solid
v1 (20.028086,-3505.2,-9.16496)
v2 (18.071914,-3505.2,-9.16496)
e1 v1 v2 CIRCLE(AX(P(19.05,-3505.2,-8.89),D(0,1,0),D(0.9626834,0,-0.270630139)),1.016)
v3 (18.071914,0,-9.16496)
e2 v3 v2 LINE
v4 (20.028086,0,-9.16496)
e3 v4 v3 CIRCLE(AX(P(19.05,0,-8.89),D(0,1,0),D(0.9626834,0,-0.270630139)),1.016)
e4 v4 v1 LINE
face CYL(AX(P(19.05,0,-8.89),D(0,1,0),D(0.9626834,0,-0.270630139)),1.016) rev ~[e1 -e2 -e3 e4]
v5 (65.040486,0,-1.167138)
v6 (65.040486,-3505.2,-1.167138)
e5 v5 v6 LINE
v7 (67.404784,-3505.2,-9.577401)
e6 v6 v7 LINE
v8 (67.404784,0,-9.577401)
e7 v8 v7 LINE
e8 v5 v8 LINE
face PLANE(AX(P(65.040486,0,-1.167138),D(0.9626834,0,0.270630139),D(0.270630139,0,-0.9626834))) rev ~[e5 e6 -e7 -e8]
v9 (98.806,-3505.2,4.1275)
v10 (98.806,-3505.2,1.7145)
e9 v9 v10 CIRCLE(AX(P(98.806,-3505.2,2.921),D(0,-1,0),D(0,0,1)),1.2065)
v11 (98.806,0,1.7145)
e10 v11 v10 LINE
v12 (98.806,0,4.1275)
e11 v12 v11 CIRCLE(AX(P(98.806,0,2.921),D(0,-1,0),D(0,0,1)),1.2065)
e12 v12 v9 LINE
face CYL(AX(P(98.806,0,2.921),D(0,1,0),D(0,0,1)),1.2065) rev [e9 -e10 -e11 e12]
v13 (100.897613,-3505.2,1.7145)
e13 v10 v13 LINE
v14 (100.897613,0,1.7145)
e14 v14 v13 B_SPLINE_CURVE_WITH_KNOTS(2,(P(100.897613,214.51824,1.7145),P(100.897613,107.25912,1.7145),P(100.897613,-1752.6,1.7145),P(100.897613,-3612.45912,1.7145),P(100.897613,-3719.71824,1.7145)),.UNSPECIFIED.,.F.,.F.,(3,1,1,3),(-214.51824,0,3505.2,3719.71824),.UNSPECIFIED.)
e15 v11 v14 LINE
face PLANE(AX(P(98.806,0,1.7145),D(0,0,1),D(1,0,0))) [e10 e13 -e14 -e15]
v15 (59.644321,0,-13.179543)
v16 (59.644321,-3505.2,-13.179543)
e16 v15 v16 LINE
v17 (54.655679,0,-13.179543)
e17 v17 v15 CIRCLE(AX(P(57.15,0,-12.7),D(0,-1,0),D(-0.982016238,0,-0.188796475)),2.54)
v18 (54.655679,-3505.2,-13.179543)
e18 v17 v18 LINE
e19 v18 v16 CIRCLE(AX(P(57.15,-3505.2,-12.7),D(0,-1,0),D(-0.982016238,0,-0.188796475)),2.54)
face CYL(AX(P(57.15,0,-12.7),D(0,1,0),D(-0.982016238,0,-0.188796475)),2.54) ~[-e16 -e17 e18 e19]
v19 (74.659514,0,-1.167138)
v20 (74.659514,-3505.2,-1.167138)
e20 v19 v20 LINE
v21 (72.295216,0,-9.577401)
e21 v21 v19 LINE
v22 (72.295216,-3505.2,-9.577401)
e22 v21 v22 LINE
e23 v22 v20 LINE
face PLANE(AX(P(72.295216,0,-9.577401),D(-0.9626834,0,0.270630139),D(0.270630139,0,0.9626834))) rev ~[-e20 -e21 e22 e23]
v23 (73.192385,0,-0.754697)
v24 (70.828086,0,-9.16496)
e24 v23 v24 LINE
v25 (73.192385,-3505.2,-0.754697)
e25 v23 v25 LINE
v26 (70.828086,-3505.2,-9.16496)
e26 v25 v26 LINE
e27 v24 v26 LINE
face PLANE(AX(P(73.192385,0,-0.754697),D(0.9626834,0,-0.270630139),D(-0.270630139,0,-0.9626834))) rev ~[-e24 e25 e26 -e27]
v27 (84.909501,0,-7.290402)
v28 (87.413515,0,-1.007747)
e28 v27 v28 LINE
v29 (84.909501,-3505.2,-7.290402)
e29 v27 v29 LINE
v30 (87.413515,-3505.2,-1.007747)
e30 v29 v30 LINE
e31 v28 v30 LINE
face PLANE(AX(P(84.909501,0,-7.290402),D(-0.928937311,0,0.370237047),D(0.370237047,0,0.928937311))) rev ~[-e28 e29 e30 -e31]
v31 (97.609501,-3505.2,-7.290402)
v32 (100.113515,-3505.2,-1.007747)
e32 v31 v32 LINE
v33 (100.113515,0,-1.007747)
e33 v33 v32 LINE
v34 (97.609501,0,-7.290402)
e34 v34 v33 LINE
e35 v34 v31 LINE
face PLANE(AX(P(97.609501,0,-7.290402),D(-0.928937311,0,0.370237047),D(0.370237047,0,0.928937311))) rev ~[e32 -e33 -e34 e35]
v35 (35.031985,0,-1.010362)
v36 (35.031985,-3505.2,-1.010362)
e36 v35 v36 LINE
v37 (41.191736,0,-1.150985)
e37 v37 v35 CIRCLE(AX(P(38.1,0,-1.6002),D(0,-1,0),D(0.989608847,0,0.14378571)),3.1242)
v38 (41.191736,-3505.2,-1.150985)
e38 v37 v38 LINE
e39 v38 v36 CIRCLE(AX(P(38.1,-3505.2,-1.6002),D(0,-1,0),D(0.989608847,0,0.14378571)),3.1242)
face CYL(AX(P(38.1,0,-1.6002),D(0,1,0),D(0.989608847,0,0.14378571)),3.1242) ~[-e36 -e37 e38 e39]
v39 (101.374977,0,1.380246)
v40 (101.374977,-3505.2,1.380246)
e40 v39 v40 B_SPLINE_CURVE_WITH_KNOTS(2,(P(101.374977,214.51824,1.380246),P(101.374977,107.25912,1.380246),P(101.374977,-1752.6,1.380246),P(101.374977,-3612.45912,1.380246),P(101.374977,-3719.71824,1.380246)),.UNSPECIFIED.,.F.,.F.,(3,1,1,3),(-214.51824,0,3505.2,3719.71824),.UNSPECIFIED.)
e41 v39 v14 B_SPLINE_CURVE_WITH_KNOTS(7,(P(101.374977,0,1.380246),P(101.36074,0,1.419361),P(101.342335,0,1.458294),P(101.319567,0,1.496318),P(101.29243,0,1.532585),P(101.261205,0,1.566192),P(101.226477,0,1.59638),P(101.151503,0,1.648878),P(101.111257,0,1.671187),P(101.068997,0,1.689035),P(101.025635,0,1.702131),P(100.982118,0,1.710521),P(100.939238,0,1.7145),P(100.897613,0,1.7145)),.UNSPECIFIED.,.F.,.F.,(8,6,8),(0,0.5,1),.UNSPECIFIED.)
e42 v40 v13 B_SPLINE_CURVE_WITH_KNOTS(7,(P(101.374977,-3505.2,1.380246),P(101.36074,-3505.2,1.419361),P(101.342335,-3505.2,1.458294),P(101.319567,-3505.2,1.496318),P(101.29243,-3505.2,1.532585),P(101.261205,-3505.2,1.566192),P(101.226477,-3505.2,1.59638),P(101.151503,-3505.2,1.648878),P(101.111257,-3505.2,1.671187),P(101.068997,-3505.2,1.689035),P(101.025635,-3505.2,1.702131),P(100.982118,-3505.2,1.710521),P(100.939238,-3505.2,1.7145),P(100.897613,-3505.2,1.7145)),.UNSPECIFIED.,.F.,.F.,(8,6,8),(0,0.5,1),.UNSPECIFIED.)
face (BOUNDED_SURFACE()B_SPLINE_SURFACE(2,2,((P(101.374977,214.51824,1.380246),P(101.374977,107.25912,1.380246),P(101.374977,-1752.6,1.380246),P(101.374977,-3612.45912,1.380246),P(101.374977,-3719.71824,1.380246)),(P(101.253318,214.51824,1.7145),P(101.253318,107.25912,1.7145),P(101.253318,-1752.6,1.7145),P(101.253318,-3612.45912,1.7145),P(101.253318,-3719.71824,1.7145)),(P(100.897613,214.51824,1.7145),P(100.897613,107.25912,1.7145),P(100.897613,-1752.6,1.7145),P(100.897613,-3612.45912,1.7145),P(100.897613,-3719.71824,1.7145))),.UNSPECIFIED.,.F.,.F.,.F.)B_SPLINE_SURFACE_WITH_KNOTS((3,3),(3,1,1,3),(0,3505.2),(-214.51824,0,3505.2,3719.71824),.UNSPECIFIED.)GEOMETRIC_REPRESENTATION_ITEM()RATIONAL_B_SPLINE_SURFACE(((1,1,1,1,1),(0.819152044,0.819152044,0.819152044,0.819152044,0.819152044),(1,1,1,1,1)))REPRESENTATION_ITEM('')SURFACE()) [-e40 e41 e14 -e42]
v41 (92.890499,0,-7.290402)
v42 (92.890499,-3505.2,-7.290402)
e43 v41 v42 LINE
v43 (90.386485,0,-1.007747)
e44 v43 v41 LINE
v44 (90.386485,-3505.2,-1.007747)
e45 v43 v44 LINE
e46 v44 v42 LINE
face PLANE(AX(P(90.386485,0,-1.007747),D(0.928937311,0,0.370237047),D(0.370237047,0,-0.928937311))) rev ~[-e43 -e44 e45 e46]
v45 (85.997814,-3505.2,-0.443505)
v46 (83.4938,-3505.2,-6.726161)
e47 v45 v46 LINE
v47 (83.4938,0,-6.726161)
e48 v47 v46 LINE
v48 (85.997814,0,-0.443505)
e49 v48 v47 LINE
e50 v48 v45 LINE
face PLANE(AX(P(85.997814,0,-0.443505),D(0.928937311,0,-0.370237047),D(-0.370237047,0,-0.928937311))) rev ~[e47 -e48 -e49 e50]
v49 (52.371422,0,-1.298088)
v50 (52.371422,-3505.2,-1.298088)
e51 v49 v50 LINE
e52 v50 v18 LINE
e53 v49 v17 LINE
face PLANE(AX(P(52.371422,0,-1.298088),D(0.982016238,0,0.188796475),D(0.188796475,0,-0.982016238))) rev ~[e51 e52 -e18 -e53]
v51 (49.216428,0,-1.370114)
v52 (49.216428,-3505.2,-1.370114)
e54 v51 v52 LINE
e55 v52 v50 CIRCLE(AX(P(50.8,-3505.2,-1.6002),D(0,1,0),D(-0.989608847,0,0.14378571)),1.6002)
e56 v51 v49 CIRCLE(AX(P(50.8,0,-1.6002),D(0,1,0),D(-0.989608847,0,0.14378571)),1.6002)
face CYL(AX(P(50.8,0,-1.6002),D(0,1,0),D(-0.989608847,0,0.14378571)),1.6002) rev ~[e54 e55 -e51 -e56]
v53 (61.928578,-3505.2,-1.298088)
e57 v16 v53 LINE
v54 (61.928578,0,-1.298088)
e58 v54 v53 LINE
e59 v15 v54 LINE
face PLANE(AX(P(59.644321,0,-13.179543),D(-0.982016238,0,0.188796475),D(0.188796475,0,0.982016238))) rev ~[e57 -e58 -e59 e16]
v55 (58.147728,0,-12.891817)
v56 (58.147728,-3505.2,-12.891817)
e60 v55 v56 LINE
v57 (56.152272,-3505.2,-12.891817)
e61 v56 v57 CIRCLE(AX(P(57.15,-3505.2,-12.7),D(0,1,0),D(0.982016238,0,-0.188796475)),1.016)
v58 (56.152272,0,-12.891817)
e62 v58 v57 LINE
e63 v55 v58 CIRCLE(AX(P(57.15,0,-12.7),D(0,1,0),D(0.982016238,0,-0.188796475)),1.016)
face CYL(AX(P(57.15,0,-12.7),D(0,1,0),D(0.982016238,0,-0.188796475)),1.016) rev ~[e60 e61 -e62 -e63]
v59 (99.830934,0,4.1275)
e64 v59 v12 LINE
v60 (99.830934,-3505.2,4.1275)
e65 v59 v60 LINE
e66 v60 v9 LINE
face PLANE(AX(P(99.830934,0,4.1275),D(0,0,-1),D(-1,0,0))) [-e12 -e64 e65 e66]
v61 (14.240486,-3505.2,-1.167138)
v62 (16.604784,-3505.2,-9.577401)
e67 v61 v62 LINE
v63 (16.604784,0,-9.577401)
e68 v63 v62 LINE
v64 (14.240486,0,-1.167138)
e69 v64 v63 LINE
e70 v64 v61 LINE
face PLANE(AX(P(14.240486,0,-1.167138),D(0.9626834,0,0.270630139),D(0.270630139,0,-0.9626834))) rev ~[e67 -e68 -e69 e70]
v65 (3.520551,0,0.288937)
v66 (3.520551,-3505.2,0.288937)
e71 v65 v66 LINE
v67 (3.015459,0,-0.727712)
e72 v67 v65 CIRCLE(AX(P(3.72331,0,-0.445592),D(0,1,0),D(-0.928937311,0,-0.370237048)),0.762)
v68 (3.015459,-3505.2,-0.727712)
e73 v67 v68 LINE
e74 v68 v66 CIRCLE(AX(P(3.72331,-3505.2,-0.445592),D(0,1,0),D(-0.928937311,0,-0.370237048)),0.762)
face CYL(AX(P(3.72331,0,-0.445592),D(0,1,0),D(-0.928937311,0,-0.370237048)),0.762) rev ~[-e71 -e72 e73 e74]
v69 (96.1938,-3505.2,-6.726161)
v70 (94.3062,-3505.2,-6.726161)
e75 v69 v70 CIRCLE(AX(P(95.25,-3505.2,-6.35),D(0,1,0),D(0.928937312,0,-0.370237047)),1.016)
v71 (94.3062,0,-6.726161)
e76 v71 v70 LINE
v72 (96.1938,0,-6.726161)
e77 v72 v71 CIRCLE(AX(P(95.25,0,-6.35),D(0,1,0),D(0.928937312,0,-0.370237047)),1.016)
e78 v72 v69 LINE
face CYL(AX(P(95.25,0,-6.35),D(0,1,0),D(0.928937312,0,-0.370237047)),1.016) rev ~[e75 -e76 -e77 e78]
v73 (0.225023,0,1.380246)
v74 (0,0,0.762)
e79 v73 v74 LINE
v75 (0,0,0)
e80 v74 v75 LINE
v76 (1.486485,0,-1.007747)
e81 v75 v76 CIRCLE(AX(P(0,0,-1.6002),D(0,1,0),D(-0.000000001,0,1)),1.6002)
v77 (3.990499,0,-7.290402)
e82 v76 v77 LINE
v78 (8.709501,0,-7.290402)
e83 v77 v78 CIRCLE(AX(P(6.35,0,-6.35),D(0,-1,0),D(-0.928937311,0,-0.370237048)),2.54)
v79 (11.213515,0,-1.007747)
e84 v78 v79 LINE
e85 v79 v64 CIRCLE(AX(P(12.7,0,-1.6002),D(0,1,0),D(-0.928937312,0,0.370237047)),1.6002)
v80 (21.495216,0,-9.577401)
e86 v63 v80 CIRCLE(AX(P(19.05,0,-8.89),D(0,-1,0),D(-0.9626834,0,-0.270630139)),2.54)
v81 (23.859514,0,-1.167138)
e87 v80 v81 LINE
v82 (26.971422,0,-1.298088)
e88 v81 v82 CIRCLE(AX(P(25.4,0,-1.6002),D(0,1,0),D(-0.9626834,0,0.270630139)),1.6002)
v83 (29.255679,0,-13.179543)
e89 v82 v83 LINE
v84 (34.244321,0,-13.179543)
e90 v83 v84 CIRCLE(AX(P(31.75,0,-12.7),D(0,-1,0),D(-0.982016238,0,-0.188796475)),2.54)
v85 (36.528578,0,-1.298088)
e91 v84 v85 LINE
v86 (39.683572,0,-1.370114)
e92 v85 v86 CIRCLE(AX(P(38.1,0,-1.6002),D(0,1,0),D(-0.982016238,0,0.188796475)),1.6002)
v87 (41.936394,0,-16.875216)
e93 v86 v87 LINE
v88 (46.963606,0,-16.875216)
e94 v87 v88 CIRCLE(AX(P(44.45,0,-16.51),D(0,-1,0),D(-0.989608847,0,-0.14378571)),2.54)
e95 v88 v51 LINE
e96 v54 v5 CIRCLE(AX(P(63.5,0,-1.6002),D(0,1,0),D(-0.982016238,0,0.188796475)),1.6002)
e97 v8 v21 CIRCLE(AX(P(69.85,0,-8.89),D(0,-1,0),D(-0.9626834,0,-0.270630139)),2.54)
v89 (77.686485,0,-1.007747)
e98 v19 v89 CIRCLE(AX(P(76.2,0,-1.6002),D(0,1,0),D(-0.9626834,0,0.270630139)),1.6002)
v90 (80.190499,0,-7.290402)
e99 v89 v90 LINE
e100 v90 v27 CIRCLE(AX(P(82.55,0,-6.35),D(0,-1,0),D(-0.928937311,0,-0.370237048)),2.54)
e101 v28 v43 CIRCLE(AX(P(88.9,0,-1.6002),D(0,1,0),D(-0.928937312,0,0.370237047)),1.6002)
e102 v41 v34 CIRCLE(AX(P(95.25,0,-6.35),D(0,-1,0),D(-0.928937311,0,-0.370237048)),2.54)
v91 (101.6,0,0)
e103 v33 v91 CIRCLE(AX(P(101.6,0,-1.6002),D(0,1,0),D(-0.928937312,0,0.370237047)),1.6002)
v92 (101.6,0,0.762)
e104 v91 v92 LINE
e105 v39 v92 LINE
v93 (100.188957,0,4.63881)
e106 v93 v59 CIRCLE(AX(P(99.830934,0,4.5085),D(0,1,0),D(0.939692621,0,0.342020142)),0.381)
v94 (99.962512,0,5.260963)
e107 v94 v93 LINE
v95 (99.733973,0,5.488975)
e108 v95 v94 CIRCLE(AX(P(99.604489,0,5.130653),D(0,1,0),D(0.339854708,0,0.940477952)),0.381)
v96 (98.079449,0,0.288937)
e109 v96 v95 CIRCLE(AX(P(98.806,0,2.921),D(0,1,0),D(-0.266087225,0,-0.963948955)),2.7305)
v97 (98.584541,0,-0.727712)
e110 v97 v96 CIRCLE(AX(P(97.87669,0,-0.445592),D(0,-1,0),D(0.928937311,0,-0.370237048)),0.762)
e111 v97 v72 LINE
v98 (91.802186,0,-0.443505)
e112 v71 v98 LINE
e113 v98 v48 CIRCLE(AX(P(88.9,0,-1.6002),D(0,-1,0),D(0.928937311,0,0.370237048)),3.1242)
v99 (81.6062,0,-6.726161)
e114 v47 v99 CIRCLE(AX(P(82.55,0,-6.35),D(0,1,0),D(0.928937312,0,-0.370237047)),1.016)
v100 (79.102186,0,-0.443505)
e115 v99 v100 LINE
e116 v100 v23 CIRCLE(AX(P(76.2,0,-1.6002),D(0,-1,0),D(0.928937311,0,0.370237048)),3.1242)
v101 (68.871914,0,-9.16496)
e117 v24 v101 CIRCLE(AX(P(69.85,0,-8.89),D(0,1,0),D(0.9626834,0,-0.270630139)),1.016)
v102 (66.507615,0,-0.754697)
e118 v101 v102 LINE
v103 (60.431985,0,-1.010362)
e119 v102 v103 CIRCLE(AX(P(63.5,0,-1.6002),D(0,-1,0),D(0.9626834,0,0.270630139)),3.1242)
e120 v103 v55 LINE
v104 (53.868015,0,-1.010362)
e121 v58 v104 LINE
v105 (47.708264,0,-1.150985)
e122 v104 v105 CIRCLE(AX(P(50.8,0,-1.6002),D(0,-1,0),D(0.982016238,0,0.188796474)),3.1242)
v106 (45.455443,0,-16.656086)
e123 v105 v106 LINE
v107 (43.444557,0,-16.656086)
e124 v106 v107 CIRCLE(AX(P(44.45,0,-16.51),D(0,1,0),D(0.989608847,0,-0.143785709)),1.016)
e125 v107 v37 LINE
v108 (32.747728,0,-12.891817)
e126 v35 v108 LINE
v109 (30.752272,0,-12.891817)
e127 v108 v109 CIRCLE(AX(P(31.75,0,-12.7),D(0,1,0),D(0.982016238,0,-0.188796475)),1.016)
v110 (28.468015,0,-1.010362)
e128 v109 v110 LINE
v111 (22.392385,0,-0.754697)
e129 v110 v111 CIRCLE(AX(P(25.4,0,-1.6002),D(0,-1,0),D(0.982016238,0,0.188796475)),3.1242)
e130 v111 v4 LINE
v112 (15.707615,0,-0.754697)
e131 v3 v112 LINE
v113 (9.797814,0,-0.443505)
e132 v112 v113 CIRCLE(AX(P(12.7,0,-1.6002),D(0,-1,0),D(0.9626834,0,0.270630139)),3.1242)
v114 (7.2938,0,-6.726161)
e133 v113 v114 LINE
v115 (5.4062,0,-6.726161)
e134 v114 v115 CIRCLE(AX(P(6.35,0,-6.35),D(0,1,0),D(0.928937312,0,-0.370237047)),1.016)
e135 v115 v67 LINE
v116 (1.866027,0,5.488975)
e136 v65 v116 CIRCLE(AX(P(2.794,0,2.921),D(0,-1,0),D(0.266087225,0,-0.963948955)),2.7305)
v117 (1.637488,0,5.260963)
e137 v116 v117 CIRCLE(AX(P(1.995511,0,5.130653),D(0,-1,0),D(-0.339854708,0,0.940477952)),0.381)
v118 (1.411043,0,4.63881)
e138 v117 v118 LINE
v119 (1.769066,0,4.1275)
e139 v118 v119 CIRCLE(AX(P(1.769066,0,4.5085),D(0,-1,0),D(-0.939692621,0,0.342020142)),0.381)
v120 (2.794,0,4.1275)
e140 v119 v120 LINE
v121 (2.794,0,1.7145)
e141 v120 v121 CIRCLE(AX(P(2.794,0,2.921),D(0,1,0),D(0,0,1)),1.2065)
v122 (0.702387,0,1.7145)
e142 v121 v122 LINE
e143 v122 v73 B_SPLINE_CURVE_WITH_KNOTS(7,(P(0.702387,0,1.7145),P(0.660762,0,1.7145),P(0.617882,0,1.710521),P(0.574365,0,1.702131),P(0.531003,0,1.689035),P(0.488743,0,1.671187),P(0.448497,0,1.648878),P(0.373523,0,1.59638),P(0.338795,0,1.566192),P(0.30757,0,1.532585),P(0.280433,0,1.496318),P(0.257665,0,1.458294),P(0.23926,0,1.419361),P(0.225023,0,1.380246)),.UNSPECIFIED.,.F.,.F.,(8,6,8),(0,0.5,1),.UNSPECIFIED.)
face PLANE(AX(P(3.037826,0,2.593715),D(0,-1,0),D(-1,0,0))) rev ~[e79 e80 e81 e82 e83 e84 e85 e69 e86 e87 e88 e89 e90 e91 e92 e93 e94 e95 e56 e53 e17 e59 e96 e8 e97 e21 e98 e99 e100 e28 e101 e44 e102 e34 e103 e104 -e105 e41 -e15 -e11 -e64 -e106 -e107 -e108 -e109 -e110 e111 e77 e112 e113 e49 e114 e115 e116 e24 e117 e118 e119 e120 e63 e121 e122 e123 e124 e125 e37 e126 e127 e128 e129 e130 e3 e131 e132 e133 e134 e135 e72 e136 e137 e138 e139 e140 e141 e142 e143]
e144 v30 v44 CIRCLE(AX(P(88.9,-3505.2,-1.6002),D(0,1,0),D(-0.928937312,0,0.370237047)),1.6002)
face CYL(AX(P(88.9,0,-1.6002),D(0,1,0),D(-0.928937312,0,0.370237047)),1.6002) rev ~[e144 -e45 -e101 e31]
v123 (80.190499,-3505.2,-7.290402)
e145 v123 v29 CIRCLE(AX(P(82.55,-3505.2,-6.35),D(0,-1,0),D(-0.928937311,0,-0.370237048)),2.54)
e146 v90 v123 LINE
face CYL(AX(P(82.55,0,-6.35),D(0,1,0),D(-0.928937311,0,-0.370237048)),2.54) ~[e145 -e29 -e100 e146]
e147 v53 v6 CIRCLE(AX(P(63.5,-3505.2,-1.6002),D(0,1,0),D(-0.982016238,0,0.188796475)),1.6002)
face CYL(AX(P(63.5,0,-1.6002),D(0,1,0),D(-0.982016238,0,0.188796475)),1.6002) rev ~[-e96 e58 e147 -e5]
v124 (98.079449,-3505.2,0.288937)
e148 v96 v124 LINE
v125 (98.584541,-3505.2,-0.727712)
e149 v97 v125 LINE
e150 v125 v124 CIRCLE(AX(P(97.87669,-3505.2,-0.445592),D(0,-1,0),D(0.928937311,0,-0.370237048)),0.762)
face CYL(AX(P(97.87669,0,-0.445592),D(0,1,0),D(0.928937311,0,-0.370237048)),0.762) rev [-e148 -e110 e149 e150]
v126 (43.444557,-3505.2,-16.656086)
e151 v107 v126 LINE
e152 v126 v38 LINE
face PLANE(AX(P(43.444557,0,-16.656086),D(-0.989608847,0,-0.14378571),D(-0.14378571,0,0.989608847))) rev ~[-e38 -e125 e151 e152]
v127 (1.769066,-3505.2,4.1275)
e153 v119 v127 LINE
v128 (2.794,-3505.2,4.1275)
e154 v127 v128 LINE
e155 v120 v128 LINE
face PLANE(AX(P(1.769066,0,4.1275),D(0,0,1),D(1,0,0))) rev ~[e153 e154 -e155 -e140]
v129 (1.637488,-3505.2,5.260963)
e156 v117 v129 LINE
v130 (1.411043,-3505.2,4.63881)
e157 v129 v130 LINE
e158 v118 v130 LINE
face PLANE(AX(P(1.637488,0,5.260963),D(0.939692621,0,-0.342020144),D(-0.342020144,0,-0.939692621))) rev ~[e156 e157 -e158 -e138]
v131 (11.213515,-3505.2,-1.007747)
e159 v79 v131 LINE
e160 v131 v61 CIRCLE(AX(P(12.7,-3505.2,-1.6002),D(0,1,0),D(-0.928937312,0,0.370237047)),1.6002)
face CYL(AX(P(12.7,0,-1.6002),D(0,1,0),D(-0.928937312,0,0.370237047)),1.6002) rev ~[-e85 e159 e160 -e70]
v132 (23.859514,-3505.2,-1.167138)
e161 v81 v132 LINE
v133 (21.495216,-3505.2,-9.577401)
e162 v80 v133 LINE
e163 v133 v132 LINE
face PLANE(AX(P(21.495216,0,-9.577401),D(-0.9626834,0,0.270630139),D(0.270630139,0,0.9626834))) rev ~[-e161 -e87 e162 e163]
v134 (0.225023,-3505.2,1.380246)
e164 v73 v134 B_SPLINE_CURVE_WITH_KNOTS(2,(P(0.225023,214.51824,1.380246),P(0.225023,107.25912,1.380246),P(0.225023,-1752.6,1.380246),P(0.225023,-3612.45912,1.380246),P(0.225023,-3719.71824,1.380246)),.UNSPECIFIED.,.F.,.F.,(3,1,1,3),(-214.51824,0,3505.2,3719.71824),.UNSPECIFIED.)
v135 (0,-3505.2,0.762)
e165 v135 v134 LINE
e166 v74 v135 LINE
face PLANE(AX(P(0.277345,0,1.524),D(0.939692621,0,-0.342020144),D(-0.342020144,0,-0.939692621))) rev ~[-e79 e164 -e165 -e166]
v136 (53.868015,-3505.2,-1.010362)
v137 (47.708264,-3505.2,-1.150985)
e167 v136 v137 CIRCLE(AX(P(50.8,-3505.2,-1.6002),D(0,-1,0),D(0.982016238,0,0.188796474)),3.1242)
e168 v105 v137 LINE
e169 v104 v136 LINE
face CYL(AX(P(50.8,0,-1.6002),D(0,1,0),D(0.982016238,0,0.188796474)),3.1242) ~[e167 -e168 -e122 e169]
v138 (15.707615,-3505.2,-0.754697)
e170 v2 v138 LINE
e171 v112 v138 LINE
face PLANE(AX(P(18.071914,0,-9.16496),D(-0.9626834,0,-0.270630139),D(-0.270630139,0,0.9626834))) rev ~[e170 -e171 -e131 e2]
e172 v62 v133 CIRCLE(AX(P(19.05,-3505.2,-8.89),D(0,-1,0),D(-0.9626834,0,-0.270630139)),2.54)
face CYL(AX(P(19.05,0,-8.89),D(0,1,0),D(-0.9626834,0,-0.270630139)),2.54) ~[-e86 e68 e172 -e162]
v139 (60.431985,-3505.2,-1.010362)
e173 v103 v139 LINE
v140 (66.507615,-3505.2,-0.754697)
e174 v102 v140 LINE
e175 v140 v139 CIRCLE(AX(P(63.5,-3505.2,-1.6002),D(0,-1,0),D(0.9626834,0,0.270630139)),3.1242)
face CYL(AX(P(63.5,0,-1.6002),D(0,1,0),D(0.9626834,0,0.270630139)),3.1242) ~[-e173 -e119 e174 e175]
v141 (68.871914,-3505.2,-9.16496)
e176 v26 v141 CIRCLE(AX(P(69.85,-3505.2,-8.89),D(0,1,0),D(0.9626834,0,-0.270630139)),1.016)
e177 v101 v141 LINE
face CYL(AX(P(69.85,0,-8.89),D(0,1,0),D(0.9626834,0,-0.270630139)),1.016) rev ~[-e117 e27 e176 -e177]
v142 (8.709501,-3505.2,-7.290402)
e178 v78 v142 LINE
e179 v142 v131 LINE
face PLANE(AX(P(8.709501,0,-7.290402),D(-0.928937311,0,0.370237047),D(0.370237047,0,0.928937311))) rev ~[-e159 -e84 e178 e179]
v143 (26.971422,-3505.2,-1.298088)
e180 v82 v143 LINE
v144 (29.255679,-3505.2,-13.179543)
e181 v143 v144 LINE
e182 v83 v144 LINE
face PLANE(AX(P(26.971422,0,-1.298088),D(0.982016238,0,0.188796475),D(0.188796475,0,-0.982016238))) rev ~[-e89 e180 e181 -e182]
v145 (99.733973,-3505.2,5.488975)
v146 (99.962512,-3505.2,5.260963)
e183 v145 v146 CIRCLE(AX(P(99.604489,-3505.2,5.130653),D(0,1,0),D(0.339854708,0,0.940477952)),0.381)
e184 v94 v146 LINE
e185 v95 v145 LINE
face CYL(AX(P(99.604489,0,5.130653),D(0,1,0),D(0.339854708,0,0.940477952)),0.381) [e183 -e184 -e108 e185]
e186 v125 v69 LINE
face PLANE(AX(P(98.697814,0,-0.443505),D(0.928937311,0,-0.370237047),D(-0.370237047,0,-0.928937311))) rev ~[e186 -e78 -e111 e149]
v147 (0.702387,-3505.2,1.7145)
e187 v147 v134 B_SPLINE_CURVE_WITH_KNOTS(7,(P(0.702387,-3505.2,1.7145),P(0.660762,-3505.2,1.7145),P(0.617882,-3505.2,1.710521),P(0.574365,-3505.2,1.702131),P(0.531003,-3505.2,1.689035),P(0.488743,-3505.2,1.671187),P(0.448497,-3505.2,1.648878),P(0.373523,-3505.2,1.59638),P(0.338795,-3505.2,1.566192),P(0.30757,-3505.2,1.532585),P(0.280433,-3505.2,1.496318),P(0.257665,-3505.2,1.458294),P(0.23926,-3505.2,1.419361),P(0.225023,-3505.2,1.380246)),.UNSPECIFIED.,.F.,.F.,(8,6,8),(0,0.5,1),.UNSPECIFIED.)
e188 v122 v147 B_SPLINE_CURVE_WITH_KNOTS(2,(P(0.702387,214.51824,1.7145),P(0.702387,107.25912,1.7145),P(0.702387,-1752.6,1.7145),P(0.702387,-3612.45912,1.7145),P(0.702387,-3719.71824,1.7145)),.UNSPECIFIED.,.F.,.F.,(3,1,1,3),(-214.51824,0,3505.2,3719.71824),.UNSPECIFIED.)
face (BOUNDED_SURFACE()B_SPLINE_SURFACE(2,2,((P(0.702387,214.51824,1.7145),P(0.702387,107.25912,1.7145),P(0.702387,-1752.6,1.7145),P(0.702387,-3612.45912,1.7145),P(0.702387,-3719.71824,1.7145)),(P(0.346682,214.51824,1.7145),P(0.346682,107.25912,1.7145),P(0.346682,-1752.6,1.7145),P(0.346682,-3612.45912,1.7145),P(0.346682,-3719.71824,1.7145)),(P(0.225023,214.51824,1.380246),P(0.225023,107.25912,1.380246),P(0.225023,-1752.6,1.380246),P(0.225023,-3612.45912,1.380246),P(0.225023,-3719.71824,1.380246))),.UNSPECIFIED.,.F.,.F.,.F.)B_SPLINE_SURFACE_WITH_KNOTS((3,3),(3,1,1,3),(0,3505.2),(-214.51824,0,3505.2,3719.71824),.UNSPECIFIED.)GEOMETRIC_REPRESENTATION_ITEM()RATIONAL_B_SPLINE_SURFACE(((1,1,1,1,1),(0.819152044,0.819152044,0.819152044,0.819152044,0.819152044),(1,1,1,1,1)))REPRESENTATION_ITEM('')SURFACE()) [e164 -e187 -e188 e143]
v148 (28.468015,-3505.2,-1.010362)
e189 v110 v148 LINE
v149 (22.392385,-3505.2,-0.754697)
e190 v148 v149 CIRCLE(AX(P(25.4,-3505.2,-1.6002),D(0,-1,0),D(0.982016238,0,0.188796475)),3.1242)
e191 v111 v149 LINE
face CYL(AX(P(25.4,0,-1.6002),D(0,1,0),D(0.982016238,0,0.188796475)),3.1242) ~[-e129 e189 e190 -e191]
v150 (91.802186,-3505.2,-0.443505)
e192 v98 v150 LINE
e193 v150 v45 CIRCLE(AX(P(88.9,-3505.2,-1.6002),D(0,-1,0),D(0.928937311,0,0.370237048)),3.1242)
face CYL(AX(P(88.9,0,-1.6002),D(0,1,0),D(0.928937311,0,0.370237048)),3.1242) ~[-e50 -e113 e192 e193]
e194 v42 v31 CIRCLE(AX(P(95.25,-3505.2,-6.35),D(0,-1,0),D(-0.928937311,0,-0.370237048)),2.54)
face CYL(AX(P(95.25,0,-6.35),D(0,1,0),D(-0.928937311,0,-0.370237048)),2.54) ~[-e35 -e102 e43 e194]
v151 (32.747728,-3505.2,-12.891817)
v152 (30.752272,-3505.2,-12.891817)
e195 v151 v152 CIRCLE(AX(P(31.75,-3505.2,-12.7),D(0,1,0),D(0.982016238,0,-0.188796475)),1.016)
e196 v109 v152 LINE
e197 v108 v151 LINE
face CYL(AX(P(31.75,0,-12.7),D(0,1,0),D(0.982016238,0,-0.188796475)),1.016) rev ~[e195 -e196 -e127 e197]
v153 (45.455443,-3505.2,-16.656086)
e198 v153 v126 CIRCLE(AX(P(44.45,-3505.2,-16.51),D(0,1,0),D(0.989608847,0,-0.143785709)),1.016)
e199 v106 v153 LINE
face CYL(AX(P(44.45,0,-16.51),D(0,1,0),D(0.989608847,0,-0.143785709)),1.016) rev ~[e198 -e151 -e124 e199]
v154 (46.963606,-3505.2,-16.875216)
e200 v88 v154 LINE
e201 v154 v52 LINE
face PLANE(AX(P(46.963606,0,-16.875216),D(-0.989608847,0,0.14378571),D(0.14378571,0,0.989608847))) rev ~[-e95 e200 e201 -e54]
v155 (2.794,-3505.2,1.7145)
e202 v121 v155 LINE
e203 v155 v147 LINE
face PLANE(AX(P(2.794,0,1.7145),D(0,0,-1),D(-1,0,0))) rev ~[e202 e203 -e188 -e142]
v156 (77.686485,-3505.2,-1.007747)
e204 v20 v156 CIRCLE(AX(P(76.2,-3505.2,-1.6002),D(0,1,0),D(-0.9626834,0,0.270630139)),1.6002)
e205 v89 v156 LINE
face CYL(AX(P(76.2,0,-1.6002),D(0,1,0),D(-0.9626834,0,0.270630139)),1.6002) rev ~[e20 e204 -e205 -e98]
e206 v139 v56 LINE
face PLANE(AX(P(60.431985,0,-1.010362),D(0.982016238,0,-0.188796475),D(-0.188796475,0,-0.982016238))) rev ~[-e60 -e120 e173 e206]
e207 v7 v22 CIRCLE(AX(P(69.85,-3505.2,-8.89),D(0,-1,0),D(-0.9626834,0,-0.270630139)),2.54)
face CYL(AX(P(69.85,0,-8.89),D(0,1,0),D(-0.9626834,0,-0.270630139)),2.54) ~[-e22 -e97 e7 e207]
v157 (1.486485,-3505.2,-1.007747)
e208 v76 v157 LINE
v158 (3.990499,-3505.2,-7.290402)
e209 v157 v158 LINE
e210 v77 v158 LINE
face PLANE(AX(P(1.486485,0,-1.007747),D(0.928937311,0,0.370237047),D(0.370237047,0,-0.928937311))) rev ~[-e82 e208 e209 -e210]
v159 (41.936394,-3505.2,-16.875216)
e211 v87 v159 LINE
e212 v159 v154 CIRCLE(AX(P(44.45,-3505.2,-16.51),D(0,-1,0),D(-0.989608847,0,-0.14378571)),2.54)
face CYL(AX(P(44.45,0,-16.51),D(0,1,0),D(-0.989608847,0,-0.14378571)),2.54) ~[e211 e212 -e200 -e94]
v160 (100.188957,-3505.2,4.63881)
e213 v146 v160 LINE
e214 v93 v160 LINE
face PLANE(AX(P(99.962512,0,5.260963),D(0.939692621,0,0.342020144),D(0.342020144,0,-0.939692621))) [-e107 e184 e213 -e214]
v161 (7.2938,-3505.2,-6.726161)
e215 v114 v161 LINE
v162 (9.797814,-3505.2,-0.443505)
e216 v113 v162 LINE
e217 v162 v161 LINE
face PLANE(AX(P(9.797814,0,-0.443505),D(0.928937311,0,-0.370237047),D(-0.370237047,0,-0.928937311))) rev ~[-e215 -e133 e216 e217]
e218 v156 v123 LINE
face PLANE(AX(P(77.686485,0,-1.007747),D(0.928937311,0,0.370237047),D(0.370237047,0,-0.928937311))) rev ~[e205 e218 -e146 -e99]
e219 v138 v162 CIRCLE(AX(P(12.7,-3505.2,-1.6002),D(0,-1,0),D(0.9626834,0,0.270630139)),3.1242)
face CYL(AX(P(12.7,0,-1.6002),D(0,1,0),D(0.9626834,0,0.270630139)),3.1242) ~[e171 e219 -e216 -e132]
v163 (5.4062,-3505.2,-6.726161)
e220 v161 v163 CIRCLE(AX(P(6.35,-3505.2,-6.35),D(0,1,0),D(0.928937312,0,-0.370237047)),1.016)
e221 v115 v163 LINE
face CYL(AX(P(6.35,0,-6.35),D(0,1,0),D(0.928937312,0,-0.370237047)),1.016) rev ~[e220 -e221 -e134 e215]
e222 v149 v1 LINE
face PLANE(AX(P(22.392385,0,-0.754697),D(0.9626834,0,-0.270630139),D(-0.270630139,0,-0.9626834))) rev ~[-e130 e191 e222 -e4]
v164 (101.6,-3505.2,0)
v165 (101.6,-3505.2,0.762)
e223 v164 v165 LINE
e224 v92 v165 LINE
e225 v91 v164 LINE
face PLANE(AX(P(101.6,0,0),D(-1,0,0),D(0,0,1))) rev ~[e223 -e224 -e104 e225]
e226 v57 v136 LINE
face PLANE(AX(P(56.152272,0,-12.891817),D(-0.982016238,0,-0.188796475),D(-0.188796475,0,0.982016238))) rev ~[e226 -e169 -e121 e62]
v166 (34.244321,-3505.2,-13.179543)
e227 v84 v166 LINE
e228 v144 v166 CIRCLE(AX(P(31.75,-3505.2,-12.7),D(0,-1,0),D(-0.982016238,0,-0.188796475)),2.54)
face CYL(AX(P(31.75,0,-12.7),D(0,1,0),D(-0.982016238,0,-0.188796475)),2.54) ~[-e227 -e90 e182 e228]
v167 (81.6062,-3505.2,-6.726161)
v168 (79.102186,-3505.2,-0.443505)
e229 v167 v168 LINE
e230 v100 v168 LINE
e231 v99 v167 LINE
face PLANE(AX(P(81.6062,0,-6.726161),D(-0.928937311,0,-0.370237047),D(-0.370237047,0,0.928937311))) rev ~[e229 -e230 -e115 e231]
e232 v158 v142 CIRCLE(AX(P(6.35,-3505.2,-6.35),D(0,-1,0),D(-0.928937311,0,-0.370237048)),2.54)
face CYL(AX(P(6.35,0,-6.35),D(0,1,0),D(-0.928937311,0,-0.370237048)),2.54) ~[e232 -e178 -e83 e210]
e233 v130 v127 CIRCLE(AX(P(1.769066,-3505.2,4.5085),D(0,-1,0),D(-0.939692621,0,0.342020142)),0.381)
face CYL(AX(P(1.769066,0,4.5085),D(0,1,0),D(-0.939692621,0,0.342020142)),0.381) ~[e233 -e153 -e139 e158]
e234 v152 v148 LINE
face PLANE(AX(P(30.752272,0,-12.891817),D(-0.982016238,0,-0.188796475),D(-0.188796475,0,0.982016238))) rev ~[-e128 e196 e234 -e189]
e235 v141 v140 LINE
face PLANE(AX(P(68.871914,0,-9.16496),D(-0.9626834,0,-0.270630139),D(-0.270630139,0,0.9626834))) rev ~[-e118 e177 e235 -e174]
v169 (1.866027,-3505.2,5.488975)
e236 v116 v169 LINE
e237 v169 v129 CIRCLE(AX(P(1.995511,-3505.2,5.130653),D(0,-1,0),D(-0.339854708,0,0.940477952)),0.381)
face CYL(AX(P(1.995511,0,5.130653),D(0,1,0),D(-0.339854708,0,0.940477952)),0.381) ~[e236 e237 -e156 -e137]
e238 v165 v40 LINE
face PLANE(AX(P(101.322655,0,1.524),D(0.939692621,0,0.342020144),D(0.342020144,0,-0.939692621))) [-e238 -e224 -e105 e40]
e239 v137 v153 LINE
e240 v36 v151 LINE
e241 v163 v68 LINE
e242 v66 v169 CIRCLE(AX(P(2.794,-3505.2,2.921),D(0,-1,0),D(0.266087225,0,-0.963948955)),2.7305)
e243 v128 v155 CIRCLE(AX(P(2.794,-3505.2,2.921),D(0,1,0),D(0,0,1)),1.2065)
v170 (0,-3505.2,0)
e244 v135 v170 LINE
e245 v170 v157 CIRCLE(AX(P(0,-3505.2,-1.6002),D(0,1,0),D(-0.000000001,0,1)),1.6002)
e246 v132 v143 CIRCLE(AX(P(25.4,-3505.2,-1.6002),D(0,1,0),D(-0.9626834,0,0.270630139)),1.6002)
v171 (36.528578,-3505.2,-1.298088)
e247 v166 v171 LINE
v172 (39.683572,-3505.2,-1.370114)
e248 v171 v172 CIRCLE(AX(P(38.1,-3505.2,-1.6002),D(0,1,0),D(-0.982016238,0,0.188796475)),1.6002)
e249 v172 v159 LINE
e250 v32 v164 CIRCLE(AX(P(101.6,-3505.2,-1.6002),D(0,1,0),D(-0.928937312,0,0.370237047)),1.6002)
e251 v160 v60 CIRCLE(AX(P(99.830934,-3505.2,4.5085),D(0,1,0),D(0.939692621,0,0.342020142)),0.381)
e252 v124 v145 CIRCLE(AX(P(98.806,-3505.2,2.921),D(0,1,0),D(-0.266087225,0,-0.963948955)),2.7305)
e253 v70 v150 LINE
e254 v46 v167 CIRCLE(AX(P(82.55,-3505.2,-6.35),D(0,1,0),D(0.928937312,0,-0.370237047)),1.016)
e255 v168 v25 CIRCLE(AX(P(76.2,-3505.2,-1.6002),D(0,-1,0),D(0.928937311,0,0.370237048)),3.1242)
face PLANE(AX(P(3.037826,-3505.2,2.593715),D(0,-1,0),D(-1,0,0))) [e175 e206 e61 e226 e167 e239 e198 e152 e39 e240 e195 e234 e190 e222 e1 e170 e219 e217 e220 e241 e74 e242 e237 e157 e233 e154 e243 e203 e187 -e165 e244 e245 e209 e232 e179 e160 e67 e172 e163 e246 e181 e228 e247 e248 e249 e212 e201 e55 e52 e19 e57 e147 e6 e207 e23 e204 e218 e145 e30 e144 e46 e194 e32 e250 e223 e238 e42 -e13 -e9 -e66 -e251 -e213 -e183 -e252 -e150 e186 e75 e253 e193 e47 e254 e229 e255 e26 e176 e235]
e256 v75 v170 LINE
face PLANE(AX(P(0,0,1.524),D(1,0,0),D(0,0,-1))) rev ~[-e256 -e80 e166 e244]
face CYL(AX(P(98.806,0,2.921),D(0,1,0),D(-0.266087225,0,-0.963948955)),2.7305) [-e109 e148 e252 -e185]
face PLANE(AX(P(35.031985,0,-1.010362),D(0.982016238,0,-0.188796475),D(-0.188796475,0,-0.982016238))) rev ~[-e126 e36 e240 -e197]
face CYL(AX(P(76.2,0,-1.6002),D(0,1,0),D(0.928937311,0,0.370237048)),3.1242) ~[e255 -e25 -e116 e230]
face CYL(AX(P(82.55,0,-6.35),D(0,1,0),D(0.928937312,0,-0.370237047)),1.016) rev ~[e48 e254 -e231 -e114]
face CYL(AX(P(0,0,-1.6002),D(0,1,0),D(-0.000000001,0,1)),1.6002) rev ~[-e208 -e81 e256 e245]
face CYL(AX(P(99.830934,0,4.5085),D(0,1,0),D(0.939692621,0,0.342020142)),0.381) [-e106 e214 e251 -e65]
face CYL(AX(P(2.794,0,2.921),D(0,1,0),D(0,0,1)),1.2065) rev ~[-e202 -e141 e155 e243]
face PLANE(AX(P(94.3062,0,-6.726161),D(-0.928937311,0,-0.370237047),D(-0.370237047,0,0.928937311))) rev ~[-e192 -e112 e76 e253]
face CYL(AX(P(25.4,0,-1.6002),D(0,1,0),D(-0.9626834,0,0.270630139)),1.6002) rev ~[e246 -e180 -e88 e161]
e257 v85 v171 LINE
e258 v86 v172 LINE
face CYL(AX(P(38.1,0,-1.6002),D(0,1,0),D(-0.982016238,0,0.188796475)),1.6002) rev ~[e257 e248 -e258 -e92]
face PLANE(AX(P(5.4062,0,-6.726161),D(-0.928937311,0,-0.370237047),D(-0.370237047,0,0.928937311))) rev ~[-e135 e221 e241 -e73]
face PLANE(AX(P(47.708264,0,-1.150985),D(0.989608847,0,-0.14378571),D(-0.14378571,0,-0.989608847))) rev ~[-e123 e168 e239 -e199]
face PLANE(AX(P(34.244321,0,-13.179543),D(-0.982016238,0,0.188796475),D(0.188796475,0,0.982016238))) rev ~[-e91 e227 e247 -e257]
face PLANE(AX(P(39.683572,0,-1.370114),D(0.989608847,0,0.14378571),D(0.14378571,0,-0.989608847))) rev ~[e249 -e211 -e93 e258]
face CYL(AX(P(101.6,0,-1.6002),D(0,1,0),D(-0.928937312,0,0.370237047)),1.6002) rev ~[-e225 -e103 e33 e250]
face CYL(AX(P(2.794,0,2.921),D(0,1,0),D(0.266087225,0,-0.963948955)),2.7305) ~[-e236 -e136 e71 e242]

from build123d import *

# Parameters (mm, degrees)
BOSS_EXTRUDE1_DEPTH = 3505.2
CUT_EXTRUDE1_DEPTH  = 3506.2
BOSS_EXTRUDE2_DEPTH = 3505.2
FILLET1_R           = 0.508


with BuildPart() as part:
    # Sketch1 → Boss-Extrude1 (new body)
    with BuildSketch(Plane(origin=(0, 0, 0), x_dir=(1, 0, 0), z_dir=(0, 1, 0))):
        with BuildLine():
            Line((1.486485486, 1.007746677), (3.990499229, 7.290402101))
            ThreePointArc((3.990499229, 7.290402101), (6.35, 8.89), (8.709500771, 7.290402101))
            Line((8.709500771, 7.290402101), (11.213514514, 1.007746677))
            ThreePointArc((11.213514514, 1.007746677), (12.784145017, 0.002213875), (14.240485976, 1.167137652))
            Line((14.240485976, 1.167137652), (16.604784165, 9.577400553))
            ThreePointArc((16.604784165, 9.577400553), (19.05, 11.43), (21.495215835, 9.577400553))
            Line((21.495215835, 9.577400553), (23.859514024, 1.167137652))
            ThreePointArc((23.859514024, 1.167137652), (25.467277455, 0.001414904), (26.971422384, 1.298087881))
            Line((26.971422384, 1.298087881), (29.255678756, 13.179543046))
            ThreePointArc((29.255678756, 13.179543046), (31.75, 15.24), (34.244321244, 13.179543046))
            Line((34.244321244, 13.179543046), (36.528577616, 1.298087881))
            ThreePointArc((36.528577616, 1.298087881), (38.136521885, 0.00041683), (39.683572077, 1.370114107))
            Line((39.683572077, 1.370114107), (41.936393529, 16.875215703))
            ThreePointArc((41.936393529, 16.875215703), (44.45, 19.05), (46.963606471, 16.875215703))
            Line((46.963606471, 16.875215703), (49.216427923, 1.370114107))
            ThreePointArc((49.216427923, 1.370114107), (50.763478115, 0.00041683), (52.371422384, 1.298087881))
            Line((52.371422384, 1.298087881), (54.655678756, 13.179543046))
            ThreePointArc((54.655678756, 13.179543046), (57.15, 15.24), (59.644321244, 13.179543046))
            Line((59.644321244, 13.179543046), (61.928577616, 1.298087881))
            ThreePointArc((61.928577616, 1.298087881), (63.432722545, 0.001414904), (65.040485976, 1.167137652))
            Line((65.040485976, 1.167137652), (67.404784165, 9.577400553))
            ThreePointArc((67.404784165, 9.577400553), (69.85, 11.43), (72.295215835, 9.577400553))
            Line((72.295215835, 9.577400553), (74.659514024, 1.167137652))
            ThreePointArc((74.659514024, 1.167137652), (76.115854983, 0.002213875), (77.686485486, 1.007746677))
            Line((77.686485486, 1.007746677), (80.190499229, 7.290402101))
            ThreePointArc((80.190499229, 7.290402101), (82.55, 8.89), (84.909500771, 7.290402101))
            Line((84.909500771, 7.290402101), (87.413514514, 1.007746677))
            ThreePointArc((87.413514514, 1.007746677), (88.9, 0), (90.386485486, 1.007746677))
            Line((90.386485486, 1.007746677), (92.890499229, 7.290402101))
            ThreePointArc((92.890499229, 7.290402101), (95.25, 8.89), (97.609500771, 7.290402101))
            Line((97.609500771, 7.290402101), (100.113514514, 1.007746677))
            ThreePointArc((100.113514514, 1.007746677), (100.702058957, 0.275684268), (101.6, 0))
            Line((101.6, 0), (101.6, -1.524))
            ThreePointArc((101.6, -1.524), (99.846877012, -0.985759286), (98.697814051, 0.443505416))
            Line((98.697814051, 0.443505416), (96.193800308, 6.72616084))
            ThreePointArc((96.193800308, 6.72616084), (95.25, 7.366), (94.306199692, 6.72616084))
            Line((94.306199692, 6.72616084), (91.802185949, 0.443505416))
            ThreePointArc((91.802185949, 0.443505416), (88.9, -1.524), (85.997814051, 0.443505416))
            Line((85.997814051, 0.443505416), (83.493800308, 6.72616084))
            ThreePointArc((83.493800308, 6.72616084), (82.55, 7.366), (81.606199692, 6.72616084))
            Line((81.606199692, 6.72616084), (79.102185949, 0.443505416))
            ThreePointArc((79.102185949, 0.443505416), (76.035716871, -1.519677673), (73.192384523, 0.75469732))
            Line((73.192384523, 0.75469732), (70.828086334, 9.164960221))
            ThreePointArc((70.828086334, 9.164960221), (69.85, 9.906), (68.871913666, 9.164960221))
            Line((68.871913666, 9.164960221), (66.507615477, 0.75469732))
            ThreePointArc((66.507615477, 0.75469732), (63.368648778, -1.521237569), (60.43198487, 1.010362054))
            Line((60.43198487, 1.010362054), (58.147728498, 12.891817218))
            ThreePointArc((58.147728498, 12.891817218), (57.15, 13.716), (56.152271502, 12.891817218))
            Line((56.152271502, 12.891817218), (53.86801513, 1.010362054))
            ThreePointArc((53.86801513, 1.010362054), (50.728695368, -1.52318619), (47.708264041, 1.150984685))
            Line((47.708264041, 1.150984685), (45.455442588, 16.656086281))
            ThreePointArc((45.455442588, 16.656086281), (44.45, 17.526), (43.444557412, 16.656086281))
            Line((43.444557412, 16.656086281), (41.191735959, 1.150984685))
            ThreePointArc((41.191735959, 1.150984685), (38.171304632, -1.52318619), (35.03198487, 1.010362054))
            Line((35.03198487, 1.010362054), (32.747728498, 12.891817218))
            ThreePointArc((32.747728498, 12.891817218), (31.75, 13.716), (30.752271502, 12.891817218))
            Line((30.752271502, 12.891817218), (28.46801513, 1.010362054))
            ThreePointArc((28.46801513, 1.010362054), (25.531351222, -1.521237569), (22.392384523, 0.75469732))
            Line((22.392384523, 0.75469732), (20.028086334, 9.164960221))
            ThreePointArc((20.028086334, 9.164960221), (19.05, 9.906), (18.071913666, 9.164960221))
            Line((18.071913666, 9.164960221), (15.707615477, 0.75469732))
            ThreePointArc((15.707615477, 0.75469732), (12.864283129, -1.519677673), (9.797814051, 0.443505416))
            Line((9.797814051, 0.443505416), (7.293800308, 6.72616084))
            ThreePointArc((7.293800308, 6.72616084), (6.35, 7.366), (5.406199692, 6.72616084))
            Line((5.406199692, 6.72616084), (2.902185949, 0.443505416))
            ThreePointArc((2.902185949, 0.443505416), (1.753122988, -0.985759286), (0, -1.524))
            Line((0, -1.524), (0, 0))
            ThreePointArc((0, 0), (0.897941043, 0.275684268), (1.486485486, 1.007746677))
        make_face()
    extrude(amount=-BOSS_EXTRUDE1_DEPTH)

    # Sketch3 → Cut-Extrude1 (cut, through all)
    with BuildSketch(Plane(origin=(0, 0, 0), x_dir=(1, 0, 0), z_dir=(0, 1, 0))):
        Polygon((0, -0.762), (0, -1.524), (0.277345319, -1.524), align=None)
        Polygon((101.6, -0.762), (101.6, -1.524), (101.322654681, -1.524), align=None)
    extrude(amount=-CUT_EXTRUDE1_DEPTH, mode=Mode.SUBTRACT)

    # Sketch4 → Boss-Extrude2 (add, through all)
    with BuildSketch(Plane(origin=(0, 0, 0), x_dir=(1, 0, 0), z_dir=(0, 1, 0))):
        with BuildLine():
            Line((2.902185949, 0.443505416), (3.015459403, 0.727712357))
            ThreePointArc((3.015459403, 0.727712357), (3.040890247, 0.106552231), (3.520551169, -0.288937377))
            ThreePointArc((3.520551169, -0.288937377), (5.395968613, -3.748882593), (1.866026726, -5.488975049))
            ThreePointArc((1.866026726, -5.488975049), (1.726414147, -5.400370737), (1.63748848, -5.260962624))
            Line((1.63748848, -5.260962624), (1.411043325, -4.638809675))
            ThreePointArc((1.411043325, -4.638809675), (1.456969285, -4.289967378), (1.769066214, -4.1275))
            Line((1.769066214, -4.1275), (2.794, -4.1275))
            ThreePointArc((2.794, -4.1275), (4.0005, -2.921), (2.794, -1.7145))
            Line((2.794, -1.7145), (0.346681648, -1.7145))
            Line((0.346681648, -1.7145), (0.272995808, -1.512049818))
            ThreePointArc((0.272995808, -1.512049818), (1.864535831, -0.90661706), (2.902185949, 0.443505416))
        make_face()
        with BuildLine():
            Line((101.253318352, -1.7145), (101.327004192, -1.512049818))
            ThreePointArc((101.327004192, -1.512049818), (99.735464169, -0.90661706), (98.697814051, 0.443505416))
            Line((98.697814051, 0.443505416), (98.584540597, 0.727712357))
            ThreePointArc((98.584540597, 0.727712357), (98.559109753, 0.106552231), (98.079448831, -0.288937377))
            ThreePointArc((98.079448831, -0.288937377), (96.204031387, -3.748882593), (99.733973274, -5.488975049))
            ThreePointArc((99.733973274, -5.488975049), (99.873585853, -5.400370737), (99.96251152, -5.260962624))
            Line((99.96251152, -5.260962624), (100.188956675, -4.638809675))
            ThreePointArc((100.188956675, -4.638809675), (100.143030715, -4.289967378), (99.830933786, -4.1275))
            Line((99.830933786, -4.1275), (98.806, -4.1275))
            ThreePointArc((98.806, -4.1275), (97.5995, -2.921), (98.806, -1.7145))
            Line((98.806, -1.7145), (101.253318352, -1.7145))
        make_face()
    extrude(amount=-BOSS_EXTRUDE2_DEPTH)

    # Fillet1
    fillet1_edges = [part.edges().sort_by_distance(p)[0] for p in [
        (0.346681648, -1752.6, 1.7145),
        (101.253318352, -1752.6, 1.7145),
    ]]
    fillet(fillet1_edges, radius=FILLET1_R)


solid = part.part
